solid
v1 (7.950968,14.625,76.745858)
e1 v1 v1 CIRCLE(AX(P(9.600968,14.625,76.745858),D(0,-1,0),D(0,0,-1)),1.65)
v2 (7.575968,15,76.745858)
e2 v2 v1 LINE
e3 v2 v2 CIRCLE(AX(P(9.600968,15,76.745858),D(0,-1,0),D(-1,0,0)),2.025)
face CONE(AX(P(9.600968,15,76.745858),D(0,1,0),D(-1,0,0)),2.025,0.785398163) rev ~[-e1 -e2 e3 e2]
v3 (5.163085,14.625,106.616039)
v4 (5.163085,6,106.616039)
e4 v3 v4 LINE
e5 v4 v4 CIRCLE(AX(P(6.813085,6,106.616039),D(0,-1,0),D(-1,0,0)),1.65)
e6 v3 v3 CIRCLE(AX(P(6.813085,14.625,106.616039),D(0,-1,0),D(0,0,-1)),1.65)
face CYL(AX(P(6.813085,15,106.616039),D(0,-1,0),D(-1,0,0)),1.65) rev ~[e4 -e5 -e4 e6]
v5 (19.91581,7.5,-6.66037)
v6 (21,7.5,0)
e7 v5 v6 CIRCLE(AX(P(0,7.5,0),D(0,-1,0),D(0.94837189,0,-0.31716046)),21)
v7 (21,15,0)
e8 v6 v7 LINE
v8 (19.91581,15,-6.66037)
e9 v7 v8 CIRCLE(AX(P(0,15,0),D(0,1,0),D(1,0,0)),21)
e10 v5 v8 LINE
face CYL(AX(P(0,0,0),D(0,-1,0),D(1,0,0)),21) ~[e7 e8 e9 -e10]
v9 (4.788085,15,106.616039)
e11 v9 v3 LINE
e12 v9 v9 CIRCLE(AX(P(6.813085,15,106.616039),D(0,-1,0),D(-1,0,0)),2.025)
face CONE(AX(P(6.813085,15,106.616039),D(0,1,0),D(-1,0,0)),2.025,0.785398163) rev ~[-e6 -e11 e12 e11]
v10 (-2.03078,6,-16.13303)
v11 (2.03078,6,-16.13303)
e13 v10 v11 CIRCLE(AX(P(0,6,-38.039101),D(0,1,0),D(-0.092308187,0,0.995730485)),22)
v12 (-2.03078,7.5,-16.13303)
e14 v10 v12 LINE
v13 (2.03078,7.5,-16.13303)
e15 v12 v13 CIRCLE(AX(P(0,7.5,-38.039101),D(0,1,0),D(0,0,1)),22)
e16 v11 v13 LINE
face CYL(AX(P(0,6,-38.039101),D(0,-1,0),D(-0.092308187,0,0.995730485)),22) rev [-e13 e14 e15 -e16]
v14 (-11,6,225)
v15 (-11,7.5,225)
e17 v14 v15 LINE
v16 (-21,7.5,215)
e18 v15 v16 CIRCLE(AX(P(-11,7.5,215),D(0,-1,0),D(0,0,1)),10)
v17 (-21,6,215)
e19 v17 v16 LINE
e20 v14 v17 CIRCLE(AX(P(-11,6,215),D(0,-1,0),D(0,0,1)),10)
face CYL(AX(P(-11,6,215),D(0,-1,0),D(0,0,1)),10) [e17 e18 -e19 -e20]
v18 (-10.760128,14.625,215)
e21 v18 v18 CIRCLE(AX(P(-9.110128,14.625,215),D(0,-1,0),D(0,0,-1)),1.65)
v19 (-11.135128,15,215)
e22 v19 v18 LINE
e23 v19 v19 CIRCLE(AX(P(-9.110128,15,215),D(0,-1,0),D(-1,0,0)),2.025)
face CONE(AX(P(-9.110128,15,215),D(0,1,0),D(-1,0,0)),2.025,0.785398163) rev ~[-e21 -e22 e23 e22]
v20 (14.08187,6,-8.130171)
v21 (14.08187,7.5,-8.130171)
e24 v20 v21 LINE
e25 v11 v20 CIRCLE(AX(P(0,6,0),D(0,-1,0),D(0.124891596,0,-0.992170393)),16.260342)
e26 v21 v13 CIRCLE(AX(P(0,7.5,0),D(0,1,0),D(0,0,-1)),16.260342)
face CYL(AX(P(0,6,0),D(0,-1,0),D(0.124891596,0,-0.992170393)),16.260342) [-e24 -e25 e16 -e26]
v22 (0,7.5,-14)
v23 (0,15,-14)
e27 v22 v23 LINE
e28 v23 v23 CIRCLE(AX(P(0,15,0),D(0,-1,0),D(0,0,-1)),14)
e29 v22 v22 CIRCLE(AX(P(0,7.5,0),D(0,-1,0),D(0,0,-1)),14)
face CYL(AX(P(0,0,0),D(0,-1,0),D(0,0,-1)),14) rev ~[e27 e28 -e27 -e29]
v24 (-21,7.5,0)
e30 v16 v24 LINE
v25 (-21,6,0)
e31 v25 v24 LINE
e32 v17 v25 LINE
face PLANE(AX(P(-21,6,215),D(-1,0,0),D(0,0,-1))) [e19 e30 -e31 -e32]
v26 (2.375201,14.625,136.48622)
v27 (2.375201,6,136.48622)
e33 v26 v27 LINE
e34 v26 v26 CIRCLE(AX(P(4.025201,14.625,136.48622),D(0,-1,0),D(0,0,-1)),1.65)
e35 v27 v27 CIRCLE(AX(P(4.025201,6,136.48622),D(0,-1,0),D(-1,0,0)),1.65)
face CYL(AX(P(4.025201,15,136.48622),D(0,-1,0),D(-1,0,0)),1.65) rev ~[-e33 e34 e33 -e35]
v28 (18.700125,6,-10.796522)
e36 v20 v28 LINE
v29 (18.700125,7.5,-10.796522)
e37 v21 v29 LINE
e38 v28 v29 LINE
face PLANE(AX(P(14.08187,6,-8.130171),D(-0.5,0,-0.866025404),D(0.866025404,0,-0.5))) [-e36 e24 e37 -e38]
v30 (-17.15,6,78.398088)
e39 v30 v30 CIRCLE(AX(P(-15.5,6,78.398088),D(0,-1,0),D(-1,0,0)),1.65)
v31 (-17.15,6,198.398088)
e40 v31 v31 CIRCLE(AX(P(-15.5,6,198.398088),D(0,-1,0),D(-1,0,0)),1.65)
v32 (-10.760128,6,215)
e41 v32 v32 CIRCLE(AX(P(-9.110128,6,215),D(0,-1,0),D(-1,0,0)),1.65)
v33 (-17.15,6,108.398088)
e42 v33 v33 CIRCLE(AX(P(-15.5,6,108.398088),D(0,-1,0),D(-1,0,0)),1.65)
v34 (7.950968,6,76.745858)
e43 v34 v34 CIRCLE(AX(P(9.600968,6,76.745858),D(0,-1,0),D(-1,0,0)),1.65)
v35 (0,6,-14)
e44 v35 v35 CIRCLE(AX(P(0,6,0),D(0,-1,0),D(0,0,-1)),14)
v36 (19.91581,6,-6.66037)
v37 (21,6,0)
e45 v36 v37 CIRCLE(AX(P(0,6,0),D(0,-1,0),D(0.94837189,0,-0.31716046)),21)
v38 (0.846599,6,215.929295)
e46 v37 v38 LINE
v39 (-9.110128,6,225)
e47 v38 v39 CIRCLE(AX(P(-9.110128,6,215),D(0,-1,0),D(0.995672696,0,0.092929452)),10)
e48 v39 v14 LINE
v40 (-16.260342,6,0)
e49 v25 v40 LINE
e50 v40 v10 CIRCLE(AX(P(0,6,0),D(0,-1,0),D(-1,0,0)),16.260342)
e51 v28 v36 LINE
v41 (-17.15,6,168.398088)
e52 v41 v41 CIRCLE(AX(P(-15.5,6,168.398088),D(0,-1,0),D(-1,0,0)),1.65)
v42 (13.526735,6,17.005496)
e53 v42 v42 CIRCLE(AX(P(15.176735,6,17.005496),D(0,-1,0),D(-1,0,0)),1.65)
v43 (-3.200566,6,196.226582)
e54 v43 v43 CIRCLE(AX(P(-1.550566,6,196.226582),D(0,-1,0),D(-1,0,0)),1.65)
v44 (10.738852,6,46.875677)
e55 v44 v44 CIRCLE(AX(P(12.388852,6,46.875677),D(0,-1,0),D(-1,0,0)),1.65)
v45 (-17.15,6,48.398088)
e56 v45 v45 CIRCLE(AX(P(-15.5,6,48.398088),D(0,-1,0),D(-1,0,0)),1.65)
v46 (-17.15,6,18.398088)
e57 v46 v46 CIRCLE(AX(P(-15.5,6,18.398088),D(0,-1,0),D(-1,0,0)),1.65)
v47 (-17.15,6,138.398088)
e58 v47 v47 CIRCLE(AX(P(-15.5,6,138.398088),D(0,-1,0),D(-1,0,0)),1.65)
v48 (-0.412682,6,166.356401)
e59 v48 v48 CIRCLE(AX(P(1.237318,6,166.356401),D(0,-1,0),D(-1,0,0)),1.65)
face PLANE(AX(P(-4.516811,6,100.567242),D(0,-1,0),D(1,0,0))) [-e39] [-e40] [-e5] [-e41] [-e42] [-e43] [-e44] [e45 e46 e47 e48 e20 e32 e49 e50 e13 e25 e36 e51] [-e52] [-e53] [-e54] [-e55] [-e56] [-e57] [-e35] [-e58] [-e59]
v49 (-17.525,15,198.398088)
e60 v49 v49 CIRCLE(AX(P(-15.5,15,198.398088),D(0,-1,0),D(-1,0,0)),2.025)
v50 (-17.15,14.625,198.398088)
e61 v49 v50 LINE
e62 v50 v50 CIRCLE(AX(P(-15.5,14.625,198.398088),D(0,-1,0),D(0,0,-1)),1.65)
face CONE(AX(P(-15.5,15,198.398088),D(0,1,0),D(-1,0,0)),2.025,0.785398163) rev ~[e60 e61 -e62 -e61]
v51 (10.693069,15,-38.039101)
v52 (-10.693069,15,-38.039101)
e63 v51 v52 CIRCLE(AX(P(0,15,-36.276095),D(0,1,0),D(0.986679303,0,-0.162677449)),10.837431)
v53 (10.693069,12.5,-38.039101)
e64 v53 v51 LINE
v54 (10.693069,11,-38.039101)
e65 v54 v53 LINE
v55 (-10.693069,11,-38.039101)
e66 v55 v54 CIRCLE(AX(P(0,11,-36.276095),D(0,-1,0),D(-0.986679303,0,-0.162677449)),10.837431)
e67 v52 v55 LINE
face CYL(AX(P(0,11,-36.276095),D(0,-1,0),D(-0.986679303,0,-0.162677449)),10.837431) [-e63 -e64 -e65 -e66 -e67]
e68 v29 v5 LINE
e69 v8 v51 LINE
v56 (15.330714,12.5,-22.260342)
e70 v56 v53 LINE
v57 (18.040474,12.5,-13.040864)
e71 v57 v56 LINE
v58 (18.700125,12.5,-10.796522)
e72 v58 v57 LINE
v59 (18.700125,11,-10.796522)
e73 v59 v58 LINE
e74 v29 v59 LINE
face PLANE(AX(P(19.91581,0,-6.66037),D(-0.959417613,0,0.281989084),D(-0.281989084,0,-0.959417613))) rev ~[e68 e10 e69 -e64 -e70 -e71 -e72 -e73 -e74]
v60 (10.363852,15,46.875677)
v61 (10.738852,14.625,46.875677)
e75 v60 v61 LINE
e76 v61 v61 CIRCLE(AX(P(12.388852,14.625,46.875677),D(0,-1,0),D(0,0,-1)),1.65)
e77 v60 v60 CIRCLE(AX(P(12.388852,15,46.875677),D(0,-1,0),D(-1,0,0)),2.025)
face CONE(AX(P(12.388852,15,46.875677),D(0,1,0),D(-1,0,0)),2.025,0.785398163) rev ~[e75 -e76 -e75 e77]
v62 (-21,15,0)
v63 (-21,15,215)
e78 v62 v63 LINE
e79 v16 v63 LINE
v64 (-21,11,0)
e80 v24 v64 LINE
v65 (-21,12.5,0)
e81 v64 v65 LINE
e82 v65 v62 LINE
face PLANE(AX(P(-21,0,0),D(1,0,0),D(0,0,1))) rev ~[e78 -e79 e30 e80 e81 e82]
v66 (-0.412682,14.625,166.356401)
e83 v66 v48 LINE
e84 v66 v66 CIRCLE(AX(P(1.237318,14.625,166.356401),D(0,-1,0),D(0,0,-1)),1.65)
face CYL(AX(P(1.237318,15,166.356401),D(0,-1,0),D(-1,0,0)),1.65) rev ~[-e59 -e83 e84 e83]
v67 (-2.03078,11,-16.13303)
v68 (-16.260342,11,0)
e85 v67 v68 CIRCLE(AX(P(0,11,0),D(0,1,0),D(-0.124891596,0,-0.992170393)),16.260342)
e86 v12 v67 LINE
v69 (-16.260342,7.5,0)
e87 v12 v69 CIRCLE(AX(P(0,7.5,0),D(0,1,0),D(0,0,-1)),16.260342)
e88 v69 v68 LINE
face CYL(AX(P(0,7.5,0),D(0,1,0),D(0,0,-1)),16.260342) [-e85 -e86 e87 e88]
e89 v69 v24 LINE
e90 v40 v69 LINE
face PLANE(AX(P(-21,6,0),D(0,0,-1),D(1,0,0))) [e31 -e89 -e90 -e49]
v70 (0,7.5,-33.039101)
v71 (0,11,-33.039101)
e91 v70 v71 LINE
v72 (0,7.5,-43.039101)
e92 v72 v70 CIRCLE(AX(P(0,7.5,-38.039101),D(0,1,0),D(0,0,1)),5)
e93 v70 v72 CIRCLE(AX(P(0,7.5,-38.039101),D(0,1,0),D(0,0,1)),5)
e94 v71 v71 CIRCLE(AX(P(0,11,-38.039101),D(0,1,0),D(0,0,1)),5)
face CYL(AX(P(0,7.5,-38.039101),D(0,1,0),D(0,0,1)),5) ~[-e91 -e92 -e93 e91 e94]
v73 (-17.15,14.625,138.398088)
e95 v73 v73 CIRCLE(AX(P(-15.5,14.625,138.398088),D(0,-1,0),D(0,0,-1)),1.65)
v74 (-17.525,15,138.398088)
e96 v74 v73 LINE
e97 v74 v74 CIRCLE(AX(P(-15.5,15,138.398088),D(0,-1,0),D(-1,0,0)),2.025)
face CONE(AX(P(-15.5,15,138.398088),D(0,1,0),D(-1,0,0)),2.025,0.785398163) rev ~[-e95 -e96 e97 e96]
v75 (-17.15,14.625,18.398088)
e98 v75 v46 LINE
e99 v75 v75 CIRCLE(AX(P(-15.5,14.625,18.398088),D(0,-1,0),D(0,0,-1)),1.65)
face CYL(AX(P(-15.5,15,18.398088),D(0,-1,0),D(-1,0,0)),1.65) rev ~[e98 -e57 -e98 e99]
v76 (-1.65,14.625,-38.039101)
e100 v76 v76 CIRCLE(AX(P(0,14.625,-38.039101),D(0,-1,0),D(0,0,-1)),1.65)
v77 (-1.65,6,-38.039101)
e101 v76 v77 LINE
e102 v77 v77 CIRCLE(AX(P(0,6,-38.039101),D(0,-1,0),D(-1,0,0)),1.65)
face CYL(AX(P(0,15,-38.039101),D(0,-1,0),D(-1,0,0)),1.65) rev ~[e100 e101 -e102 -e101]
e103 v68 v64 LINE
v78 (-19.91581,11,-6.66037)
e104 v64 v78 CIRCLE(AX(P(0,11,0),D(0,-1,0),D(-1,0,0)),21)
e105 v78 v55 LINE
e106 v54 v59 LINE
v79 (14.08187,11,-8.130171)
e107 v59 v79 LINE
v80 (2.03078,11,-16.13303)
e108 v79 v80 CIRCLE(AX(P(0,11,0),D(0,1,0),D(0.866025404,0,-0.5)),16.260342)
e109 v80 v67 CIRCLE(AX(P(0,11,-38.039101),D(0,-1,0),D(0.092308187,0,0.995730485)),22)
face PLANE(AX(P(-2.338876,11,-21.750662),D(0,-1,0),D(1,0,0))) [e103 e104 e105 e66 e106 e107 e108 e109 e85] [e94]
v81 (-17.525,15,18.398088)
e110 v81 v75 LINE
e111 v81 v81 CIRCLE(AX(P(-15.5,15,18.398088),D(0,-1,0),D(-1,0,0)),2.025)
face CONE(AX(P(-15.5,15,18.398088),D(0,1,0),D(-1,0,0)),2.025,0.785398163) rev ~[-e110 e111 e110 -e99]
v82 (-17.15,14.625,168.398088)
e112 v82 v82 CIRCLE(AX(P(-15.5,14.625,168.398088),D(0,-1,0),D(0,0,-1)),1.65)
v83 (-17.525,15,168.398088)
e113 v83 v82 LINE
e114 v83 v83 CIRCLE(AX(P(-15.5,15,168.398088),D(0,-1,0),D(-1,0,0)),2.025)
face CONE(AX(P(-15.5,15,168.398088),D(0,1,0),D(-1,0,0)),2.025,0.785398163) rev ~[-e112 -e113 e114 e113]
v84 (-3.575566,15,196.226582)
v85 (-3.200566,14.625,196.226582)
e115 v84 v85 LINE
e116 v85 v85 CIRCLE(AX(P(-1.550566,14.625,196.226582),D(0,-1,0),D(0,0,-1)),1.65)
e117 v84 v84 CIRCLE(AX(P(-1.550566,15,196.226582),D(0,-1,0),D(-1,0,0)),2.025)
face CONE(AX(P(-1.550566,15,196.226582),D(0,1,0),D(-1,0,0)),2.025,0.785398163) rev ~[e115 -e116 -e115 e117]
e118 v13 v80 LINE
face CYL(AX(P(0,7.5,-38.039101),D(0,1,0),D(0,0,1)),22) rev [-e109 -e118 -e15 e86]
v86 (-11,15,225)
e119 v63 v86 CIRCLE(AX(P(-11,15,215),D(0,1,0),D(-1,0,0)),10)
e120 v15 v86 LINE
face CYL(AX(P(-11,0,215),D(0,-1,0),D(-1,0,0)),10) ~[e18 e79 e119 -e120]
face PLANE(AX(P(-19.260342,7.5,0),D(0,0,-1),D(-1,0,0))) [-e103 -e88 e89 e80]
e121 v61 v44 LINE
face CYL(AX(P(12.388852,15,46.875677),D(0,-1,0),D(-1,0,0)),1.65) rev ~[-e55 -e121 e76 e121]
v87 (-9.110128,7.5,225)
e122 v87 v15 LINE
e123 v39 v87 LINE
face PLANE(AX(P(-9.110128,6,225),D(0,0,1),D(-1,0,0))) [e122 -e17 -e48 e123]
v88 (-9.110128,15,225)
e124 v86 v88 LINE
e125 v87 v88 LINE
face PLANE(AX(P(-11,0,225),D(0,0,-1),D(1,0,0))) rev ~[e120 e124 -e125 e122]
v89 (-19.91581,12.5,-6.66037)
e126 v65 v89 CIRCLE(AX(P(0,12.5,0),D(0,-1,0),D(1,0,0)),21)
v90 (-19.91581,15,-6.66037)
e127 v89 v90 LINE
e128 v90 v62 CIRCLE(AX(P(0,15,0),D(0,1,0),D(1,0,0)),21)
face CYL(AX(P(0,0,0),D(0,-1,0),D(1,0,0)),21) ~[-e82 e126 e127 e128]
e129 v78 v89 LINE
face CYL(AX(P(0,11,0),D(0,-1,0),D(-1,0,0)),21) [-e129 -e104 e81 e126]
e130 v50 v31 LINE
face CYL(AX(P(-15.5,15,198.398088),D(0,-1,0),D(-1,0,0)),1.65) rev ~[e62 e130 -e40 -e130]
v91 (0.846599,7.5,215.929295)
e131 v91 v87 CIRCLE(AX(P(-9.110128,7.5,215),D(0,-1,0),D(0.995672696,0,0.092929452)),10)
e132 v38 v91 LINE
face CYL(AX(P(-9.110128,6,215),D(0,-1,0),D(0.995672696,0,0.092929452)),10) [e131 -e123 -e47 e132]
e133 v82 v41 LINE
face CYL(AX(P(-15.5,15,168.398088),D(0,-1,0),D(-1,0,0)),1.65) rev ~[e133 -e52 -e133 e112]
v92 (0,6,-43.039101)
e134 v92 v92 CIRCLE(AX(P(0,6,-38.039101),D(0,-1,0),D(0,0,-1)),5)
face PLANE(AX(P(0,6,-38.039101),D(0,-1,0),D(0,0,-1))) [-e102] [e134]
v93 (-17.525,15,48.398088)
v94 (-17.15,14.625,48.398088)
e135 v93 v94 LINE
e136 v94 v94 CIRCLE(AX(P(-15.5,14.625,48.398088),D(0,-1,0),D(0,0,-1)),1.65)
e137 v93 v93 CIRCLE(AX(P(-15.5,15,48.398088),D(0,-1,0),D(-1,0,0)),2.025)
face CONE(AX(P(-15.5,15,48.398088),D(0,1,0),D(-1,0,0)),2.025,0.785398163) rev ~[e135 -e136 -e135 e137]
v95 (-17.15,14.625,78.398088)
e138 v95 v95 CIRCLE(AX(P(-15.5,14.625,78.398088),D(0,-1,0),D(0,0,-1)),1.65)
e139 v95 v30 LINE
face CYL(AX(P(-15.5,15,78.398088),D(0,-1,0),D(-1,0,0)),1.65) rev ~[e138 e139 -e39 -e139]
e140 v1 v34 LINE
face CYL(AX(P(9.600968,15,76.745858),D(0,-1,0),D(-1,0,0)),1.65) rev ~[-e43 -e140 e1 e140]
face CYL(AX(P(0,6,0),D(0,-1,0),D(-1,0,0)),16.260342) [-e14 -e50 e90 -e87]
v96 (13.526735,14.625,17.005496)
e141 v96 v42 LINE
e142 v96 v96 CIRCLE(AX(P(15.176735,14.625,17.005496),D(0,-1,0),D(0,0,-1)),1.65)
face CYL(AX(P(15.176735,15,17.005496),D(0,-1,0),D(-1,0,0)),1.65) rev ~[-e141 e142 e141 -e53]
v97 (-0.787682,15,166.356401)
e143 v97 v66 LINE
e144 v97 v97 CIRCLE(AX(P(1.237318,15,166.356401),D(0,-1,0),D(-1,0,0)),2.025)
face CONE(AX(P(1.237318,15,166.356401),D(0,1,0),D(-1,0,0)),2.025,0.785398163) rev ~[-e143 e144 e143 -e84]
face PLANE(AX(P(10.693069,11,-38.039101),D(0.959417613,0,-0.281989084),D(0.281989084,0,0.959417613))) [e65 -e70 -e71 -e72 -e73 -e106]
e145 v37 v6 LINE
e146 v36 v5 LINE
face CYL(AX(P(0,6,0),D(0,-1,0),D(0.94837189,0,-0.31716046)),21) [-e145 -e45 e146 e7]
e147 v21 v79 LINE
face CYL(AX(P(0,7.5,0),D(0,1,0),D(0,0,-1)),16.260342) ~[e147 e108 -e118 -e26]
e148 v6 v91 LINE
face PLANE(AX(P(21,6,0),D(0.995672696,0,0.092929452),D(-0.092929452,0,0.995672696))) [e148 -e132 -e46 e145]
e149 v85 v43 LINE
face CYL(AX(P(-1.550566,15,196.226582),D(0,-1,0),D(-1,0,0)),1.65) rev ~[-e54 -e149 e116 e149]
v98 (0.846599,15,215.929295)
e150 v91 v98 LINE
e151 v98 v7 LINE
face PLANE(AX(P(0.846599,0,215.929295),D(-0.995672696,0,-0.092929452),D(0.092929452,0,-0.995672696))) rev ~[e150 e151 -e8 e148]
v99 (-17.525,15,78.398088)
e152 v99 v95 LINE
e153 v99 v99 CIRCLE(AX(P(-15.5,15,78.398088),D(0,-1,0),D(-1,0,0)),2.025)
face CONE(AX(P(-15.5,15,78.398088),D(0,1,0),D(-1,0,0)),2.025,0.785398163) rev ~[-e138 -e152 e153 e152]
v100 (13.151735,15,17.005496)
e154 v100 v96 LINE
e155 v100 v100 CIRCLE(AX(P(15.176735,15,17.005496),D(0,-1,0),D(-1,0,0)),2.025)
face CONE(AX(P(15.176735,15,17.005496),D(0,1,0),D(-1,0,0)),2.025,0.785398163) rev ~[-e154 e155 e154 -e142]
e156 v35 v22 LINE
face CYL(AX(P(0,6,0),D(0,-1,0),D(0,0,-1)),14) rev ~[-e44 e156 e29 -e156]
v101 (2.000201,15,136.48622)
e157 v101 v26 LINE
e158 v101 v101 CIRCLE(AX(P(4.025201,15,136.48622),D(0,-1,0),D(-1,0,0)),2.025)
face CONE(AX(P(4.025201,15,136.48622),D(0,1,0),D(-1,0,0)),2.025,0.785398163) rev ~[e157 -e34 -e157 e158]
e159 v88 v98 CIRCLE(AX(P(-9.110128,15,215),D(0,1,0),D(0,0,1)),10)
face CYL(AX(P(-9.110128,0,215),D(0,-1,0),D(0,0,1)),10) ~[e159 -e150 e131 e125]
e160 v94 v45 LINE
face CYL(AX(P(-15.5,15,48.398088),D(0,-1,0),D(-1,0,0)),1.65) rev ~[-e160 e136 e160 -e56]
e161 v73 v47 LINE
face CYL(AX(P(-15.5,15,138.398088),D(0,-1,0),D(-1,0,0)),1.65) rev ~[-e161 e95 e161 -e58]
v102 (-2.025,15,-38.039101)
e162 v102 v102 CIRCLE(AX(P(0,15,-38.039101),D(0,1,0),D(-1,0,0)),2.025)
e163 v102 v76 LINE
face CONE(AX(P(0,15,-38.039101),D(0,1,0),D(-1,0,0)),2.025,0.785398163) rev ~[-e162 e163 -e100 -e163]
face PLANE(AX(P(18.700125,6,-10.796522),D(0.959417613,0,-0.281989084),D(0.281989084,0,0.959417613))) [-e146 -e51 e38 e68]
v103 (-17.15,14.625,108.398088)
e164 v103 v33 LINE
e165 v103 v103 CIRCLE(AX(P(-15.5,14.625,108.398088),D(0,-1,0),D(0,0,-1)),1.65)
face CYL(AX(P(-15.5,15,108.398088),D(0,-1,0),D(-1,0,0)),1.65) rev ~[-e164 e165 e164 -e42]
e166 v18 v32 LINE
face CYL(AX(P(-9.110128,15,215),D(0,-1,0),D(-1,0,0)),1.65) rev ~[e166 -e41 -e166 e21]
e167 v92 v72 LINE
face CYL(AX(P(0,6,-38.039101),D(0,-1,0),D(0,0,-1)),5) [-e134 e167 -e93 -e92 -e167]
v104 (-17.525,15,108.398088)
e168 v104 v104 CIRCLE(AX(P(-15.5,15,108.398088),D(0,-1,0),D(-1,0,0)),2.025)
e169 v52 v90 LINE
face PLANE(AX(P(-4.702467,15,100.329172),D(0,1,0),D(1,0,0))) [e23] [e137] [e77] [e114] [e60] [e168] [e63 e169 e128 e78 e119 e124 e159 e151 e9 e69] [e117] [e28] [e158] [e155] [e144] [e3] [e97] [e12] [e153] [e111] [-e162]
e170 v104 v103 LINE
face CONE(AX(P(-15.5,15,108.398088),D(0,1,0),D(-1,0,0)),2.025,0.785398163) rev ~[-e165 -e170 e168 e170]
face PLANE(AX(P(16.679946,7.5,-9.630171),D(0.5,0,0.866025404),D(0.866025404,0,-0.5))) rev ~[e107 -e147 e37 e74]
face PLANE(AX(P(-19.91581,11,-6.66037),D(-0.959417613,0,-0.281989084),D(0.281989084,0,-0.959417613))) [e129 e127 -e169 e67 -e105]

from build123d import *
from build123d.topology import SkipClean

# Parameters (mm, degrees)
EXTRUDE_1_DEPTH               = 15
CUT_EXTRUDE_1_DEPTH           = 4
SKETCH_3_R                    = 14
CUT_EXTRUDE_2_DEPTH           = 227.475164201
EXTRUDE_4_DEPTH               = 15
SKETCH_11_W                   = 17
SKETCH_11_H                   = 10
SKETCH_14_W                   = 6
SKETCH_14_H                   = 10
CUT_REVOLVE_4_ANGLE           = 60
CUT_REVOLVE_4_OTHER_WAY_ANGLE = 90
SKETCH_16_W                   = 9.609453317
SKETCH_16_H                   = 10
CUT_EXTRUDE_4_DEPTH           = 5
SKETCH_17_W                   = 9.609453317
SKETCH_17_H                   = 10
CUT_EXTRUDE_5_DEPTH           = 5
CUT_EXTRUDE_6_DEPTH           = 7.5
EXTRUDE_START                 = 1.5
EXTRUDE_6_DEPTH               = 1.5
SKETCH_21_R                   = 5
SKETCH_21_R_2                 = 14
EXTRUDE_7_DEPTH               = 1.5
HOLE_WIZARD_M4_1_D            = 3.3
HOLE_WIZARD_M4_1_DEPTH        = 9
HOLE_WIZARD_M4_1_CSINK_D      = 4.05
HOLE_WIZARD_M4_1_CSINK_ANGLE  = 90


with BuildPart() as part:
    # 草图1 → 凸台-拉伸1 (new body)
    with BuildSketch(Plane(origin=(0, 0, 0), x_dir=(1, 0, 0), z_dir=(0, 1, 0))):
        with BuildLine():
            Line((-21, 0), (-21, -215))
            ThreePointArc((-21, -215), (-18.071067812, -222.071067812), (-11, -225))
            Line((-11, -225), (-9.110127779, -225))
            ThreePointArc((-9.110127779, -225), (-2.375625019, -222.392325249), (0.846599179, -215.929294516))
            Line((0.846599179, -215.929294516), (21, 0))
            ThreePointArc((21, 0), (0, 21), (-21, 0))
        make_face()
    extrude(amount=EXTRUDE_1_DEPTH)

    # 草图2 → 切除-拉伸1 (cut)
    with BuildSketch(Plane.XZ):
        with BuildLine():
            Line((-6.487547308, 24.545681698), (-15.16946684, 197.954199749))
            ThreePointArc((-15.16946684, 197.954199749), (-9.006726896, 204.766554422), (-2.194372223, 198.603814478))
            Line((-2.194372223, 198.603814478), (6.487547308, 25.195296427))
            ThreePointArc((6.487547308, 25.195296427), (0.324807364, 18.382941754), (-6.487547308, 24.545681698))
        make_face()
    extrude(amount=-CUT_EXTRUDE_1_DEPTH, mode=Mode.SUBTRACT)

    # 草图3 → 切除-拉伸2 (cut, through all)
    with BuildSketch(Plane(origin=(0, 0, 0), x_dir=(-1, 0, 0), z_dir=(0, -1, 0))):
        with Locations(Location((0, 0, 0), (0, 0, 90))):
            Circle(SKETCH_3_R)
    extrude(amount=-CUT_EXTRUDE_2_DEPTH, mode=Mode.SUBTRACT)

    # 草图7 → 凸台-拉伸4 (add)
    with BuildSketch(Plane(origin=(0, 0, 0), x_dir=(1, 0, 0), z_dir=(0, 1, 0))):
        with BuildLine():
            Line((-10.693069191, 38.039100971), (-19.9158097, 6.66036966))
            ThreePointArc((-19.9158097, 6.66036966), (0, 21), (19.9158097, 6.66036966))
            Line((19.9158097, 6.66036966), (10.693069191, 38.039100971))
            ThreePointArc((10.693069191, 38.039100971), (0, 47.113526612), (-10.693069191, 38.039100971))
        make_face()
    extrude(amount=EXTRUDE_4_DEPTH)

    # 草图11 → 切除-旋转3 (revolve, cut)
    with BuildSketch(Plane(origin=(0, 0, 0), x_dir=(0, 0, -1), z_dir=(1, 0, 0)), mode=Mode.PRIVATE) as cut_revolve_3_sk:
        with Locations((51.539100971, 7.5)):
            Rectangle(SKETCH_11_W, SKETCH_11_H)
    revolve(cut_revolve_3_sk.sketch.rotate(Axis((0, 15, -38.039100971), (0, -1, 0)), 180), axis=Axis((0, 15, -38.039100971), (0, -1, 0)), mode=Mode.SUBTRACT)

    # 草图14 → 切除-旋转4 (revolve, cut)
    with BuildSketch(Plane(origin=(0, 0, 0), x_dir=(0, 0, -1), z_dir=(1, 0, 0))):
        with Locations((19.26034239, 7.5)):
            Rectangle(SKETCH_14_W, SKETCH_14_H)
    revolve(axis=Axis((0, 15, 0), (0, -1, 0)), revolution_arc=CUT_REVOLVE_4_ANGLE, mode=Mode.SUBTRACT)

    # 草图14 → 切除-旋转4 other way (revolve, cut)
    with BuildSketch(Plane(origin=(0, 0, 0), x_dir=(0, 0, -1), z_dir=(1, 0, 0))):
        with Locations((19.26034239, 7.5)):
            Rectangle(SKETCH_14_W, SKETCH_14_H)
    revolve(axis=Axis((0, 15, 0), (0, 1, 0)), revolution_arc=CUT_REVOLVE_4_OTHER_WAY_ANGLE, mode=Mode.SUBTRACT)

    # 草图16 → 切除-拉伸4 (cut)
    with BuildSketch(Plane(origin=(20.13407913, 0, -5.917746812), x_dir=(-0.2819890835944097, 0, -0.9594176133121516), z_dir=(0.9594176133121516, 0, -0.2819890835944097))):
        with Locations((12.229144047, 7.5)):
            Rectangle(SKETCH_16_W, SKETCH_16_H)
    extrude(amount=-CUT_EXTRUDE_4_DEPTH, mode=Mode.SUBTRACT)

    # 草图17 → 切除-拉伸5 (cut)
    with BuildSketch(Plane(origin=(-20.13407913, 0, -5.917746812), x_dir=(-0.28198908359441, 0, 0.9594176133121515), z_dir=(-0.9594176133121515, 0, -0.28198908359441))):
        with Locations((-12.229144047, 7.5)):
            Rectangle(SKETCH_17_W, SKETCH_17_H)
    extrude(amount=-CUT_EXTRUDE_5_DEPTH, mode=Mode.SUBTRACT)

    # 草图20 → 切除-拉伸6 (cut)
    with BuildSketch(Plane.XZ):
        with BuildLine():
            Line((21, 0), (0.846599179, 215.929294516))
            ThreePointArc((0.846599179, 215.929294516), (-2.375625019, 222.392325249), (-9.110127779, 225))
            Line((-9.110127779, 225), (-11, 225))
            ThreePointArc((-11, 225), (-18.071067812, 222.071067812), (-21, 215))
            Line((-21, 215), (-21, 0))
            ThreePointArc((-21, 0), (-20.727180268, -3.374018102), (-19.9158097, -6.66036966))
            Line((-19.9158097, -6.66036966), (-10.693069191, -38.039100971))
            ThreePointArc((-10.693069191, -38.039100971), (0, -47.113526612), (10.693069191, -38.039100971))
            Line((10.693069191, -38.039100971), (19.9158097, -6.66036966))
            ThreePointArc((19.9158097, -6.66036966), (20.727180268, -3.374018102), (21, 0))
        make_face()
    extrude(amount=-CUT_EXTRUDE_6_DEPTH, mode=Mode.SUBTRACT)

    # 草图22 → 凸台-拉伸6 (add)
    with BuildSketch(Plane.XZ.offset(-12.5).offset(EXTRUDE_START)):
        with BuildLine():
            Line((-19.9158097, -6.66036966), (-10.693069191, -38.039100971))
            ThreePointArc((-10.693069191, -38.039100971), (0, -47.113526612), (10.693069191, -38.039100971))
            Line((10.693069191, -38.039100971), (18.700124508, -10.796521919))
            Line((18.700124508, -10.796521919), (14.081869584, -8.130171195))
            ThreePointArc((14.081869584, -8.130171195), (8.995321483, -13.545586959), (2.030780118, -16.133030303))
            ThreePointArc((2.030780118, -16.133030303), (0, -16.039100971), (-2.030780118, -16.133030303))
            ThreePointArc((-2.030780118, -16.133030303), (-12.194669218, -10.755871759), (-16.26034239, 0))
            Line((-16.26034239, 0), (-21, 0))
            ThreePointArc((-21, 0), (-20.727180268, -3.374018102), (-19.9158097, -6.66036966))
        make_face()
    extrude(amount=-EXTRUDE_6_DEPTH)

    # 草图21 → 凸台-拉伸7 (add)
    # profile 1 of 2: a face of its own
    with SkipClean():  # the faces are left unmerged after this step: merging them gives an invalid solid
        with BuildSketch(Plane.XZ.offset(-7.5).offset(EXTRUDE_START)):
            with Locations(Location((0, -38.039100971, 0), (0, 0, 270))):
                Circle(SKETCH_21_R)
        # profile 2 of 2: a face of its own
        with BuildSketch(Plane.XZ.offset(-7.5).offset(EXTRUDE_START)):
            with BuildLine():
                Line((-21, 0), (-16.26034239, 0))
                ThreePointArc((-16.26034239, 0), (-12.194669218, -10.755871759), (-2.030780118, -16.133030303))
                ThreePointArc((-2.030780118, -16.133030303), (0, -16.039100971), (2.030780118, -16.133030303))
                ThreePointArc((2.030780118, -16.133030303), (8.995321483, -13.545586959), (14.081869584, -8.130171195))
                Line((14.081869584, -8.130171195), (18.700124508, -10.796521919))
                Line((18.700124508, -10.796521919), (19.9158097, -6.66036966))
                ThreePointArc((19.9158097, -6.66036966), (20.727180268, -3.374018102), (21, 0))
                Line((21, 0), (0.846599179, 215.929294516))
                ThreePointArc((0.846599179, 215.929294516), (-2.375625019, 222.392325249), (-9.110127779, 225))
                Line((-9.110127779, 225), (-11, 225))
                ThreePointArc((-11, 225), (-18.071067812, 222.071067812), (-21, 215))
                Line((-21, 215), (-21, 0))
            make_face()
            with Locations(Location((0, 0, 0), (0, 0, 270))):
                Circle(SKETCH_21_R_2, mode=Mode.SUBTRACT)
        extrude(amount=-EXTRUDE_7_DEPTH)

    # M4 螺纹孔1
    with Locations(Plane(origin=(0, 15, 0), x_dir=(1, 0, 0), z_dir=(0, 1, 0))):
        with Locations((-1.550565844, -196.226581502), (-4.338449392, -226.096762374), (-9.110127779, -215), (15.176735444, -17.005496271), (0, 38.039100971), (-15.5, -18.398087501), (-15.5, -48.398087501), (-15.5, -78.398087501), (-15.5, -108.398087501), (-15.5, -138.398087501), (-15.5, -168.398087501), (-15.5, -198.398087501), (12.388851896, -46.875677143), (9.600968348, -76.745858014), (6.8130848, -106.616038886), (4.025201252, -136.486219758), (1.237317704, -166.35640063)):
            CounterSinkHole(HOLE_WIZARD_M4_1_D / 2, HOLE_WIZARD_M4_1_CSINK_D / 2, depth=HOLE_WIZARD_M4_1_DEPTH, counter_sink_angle=HOLE_WIZARD_M4_1_CSINK_ANGLE)


solid = part.part
